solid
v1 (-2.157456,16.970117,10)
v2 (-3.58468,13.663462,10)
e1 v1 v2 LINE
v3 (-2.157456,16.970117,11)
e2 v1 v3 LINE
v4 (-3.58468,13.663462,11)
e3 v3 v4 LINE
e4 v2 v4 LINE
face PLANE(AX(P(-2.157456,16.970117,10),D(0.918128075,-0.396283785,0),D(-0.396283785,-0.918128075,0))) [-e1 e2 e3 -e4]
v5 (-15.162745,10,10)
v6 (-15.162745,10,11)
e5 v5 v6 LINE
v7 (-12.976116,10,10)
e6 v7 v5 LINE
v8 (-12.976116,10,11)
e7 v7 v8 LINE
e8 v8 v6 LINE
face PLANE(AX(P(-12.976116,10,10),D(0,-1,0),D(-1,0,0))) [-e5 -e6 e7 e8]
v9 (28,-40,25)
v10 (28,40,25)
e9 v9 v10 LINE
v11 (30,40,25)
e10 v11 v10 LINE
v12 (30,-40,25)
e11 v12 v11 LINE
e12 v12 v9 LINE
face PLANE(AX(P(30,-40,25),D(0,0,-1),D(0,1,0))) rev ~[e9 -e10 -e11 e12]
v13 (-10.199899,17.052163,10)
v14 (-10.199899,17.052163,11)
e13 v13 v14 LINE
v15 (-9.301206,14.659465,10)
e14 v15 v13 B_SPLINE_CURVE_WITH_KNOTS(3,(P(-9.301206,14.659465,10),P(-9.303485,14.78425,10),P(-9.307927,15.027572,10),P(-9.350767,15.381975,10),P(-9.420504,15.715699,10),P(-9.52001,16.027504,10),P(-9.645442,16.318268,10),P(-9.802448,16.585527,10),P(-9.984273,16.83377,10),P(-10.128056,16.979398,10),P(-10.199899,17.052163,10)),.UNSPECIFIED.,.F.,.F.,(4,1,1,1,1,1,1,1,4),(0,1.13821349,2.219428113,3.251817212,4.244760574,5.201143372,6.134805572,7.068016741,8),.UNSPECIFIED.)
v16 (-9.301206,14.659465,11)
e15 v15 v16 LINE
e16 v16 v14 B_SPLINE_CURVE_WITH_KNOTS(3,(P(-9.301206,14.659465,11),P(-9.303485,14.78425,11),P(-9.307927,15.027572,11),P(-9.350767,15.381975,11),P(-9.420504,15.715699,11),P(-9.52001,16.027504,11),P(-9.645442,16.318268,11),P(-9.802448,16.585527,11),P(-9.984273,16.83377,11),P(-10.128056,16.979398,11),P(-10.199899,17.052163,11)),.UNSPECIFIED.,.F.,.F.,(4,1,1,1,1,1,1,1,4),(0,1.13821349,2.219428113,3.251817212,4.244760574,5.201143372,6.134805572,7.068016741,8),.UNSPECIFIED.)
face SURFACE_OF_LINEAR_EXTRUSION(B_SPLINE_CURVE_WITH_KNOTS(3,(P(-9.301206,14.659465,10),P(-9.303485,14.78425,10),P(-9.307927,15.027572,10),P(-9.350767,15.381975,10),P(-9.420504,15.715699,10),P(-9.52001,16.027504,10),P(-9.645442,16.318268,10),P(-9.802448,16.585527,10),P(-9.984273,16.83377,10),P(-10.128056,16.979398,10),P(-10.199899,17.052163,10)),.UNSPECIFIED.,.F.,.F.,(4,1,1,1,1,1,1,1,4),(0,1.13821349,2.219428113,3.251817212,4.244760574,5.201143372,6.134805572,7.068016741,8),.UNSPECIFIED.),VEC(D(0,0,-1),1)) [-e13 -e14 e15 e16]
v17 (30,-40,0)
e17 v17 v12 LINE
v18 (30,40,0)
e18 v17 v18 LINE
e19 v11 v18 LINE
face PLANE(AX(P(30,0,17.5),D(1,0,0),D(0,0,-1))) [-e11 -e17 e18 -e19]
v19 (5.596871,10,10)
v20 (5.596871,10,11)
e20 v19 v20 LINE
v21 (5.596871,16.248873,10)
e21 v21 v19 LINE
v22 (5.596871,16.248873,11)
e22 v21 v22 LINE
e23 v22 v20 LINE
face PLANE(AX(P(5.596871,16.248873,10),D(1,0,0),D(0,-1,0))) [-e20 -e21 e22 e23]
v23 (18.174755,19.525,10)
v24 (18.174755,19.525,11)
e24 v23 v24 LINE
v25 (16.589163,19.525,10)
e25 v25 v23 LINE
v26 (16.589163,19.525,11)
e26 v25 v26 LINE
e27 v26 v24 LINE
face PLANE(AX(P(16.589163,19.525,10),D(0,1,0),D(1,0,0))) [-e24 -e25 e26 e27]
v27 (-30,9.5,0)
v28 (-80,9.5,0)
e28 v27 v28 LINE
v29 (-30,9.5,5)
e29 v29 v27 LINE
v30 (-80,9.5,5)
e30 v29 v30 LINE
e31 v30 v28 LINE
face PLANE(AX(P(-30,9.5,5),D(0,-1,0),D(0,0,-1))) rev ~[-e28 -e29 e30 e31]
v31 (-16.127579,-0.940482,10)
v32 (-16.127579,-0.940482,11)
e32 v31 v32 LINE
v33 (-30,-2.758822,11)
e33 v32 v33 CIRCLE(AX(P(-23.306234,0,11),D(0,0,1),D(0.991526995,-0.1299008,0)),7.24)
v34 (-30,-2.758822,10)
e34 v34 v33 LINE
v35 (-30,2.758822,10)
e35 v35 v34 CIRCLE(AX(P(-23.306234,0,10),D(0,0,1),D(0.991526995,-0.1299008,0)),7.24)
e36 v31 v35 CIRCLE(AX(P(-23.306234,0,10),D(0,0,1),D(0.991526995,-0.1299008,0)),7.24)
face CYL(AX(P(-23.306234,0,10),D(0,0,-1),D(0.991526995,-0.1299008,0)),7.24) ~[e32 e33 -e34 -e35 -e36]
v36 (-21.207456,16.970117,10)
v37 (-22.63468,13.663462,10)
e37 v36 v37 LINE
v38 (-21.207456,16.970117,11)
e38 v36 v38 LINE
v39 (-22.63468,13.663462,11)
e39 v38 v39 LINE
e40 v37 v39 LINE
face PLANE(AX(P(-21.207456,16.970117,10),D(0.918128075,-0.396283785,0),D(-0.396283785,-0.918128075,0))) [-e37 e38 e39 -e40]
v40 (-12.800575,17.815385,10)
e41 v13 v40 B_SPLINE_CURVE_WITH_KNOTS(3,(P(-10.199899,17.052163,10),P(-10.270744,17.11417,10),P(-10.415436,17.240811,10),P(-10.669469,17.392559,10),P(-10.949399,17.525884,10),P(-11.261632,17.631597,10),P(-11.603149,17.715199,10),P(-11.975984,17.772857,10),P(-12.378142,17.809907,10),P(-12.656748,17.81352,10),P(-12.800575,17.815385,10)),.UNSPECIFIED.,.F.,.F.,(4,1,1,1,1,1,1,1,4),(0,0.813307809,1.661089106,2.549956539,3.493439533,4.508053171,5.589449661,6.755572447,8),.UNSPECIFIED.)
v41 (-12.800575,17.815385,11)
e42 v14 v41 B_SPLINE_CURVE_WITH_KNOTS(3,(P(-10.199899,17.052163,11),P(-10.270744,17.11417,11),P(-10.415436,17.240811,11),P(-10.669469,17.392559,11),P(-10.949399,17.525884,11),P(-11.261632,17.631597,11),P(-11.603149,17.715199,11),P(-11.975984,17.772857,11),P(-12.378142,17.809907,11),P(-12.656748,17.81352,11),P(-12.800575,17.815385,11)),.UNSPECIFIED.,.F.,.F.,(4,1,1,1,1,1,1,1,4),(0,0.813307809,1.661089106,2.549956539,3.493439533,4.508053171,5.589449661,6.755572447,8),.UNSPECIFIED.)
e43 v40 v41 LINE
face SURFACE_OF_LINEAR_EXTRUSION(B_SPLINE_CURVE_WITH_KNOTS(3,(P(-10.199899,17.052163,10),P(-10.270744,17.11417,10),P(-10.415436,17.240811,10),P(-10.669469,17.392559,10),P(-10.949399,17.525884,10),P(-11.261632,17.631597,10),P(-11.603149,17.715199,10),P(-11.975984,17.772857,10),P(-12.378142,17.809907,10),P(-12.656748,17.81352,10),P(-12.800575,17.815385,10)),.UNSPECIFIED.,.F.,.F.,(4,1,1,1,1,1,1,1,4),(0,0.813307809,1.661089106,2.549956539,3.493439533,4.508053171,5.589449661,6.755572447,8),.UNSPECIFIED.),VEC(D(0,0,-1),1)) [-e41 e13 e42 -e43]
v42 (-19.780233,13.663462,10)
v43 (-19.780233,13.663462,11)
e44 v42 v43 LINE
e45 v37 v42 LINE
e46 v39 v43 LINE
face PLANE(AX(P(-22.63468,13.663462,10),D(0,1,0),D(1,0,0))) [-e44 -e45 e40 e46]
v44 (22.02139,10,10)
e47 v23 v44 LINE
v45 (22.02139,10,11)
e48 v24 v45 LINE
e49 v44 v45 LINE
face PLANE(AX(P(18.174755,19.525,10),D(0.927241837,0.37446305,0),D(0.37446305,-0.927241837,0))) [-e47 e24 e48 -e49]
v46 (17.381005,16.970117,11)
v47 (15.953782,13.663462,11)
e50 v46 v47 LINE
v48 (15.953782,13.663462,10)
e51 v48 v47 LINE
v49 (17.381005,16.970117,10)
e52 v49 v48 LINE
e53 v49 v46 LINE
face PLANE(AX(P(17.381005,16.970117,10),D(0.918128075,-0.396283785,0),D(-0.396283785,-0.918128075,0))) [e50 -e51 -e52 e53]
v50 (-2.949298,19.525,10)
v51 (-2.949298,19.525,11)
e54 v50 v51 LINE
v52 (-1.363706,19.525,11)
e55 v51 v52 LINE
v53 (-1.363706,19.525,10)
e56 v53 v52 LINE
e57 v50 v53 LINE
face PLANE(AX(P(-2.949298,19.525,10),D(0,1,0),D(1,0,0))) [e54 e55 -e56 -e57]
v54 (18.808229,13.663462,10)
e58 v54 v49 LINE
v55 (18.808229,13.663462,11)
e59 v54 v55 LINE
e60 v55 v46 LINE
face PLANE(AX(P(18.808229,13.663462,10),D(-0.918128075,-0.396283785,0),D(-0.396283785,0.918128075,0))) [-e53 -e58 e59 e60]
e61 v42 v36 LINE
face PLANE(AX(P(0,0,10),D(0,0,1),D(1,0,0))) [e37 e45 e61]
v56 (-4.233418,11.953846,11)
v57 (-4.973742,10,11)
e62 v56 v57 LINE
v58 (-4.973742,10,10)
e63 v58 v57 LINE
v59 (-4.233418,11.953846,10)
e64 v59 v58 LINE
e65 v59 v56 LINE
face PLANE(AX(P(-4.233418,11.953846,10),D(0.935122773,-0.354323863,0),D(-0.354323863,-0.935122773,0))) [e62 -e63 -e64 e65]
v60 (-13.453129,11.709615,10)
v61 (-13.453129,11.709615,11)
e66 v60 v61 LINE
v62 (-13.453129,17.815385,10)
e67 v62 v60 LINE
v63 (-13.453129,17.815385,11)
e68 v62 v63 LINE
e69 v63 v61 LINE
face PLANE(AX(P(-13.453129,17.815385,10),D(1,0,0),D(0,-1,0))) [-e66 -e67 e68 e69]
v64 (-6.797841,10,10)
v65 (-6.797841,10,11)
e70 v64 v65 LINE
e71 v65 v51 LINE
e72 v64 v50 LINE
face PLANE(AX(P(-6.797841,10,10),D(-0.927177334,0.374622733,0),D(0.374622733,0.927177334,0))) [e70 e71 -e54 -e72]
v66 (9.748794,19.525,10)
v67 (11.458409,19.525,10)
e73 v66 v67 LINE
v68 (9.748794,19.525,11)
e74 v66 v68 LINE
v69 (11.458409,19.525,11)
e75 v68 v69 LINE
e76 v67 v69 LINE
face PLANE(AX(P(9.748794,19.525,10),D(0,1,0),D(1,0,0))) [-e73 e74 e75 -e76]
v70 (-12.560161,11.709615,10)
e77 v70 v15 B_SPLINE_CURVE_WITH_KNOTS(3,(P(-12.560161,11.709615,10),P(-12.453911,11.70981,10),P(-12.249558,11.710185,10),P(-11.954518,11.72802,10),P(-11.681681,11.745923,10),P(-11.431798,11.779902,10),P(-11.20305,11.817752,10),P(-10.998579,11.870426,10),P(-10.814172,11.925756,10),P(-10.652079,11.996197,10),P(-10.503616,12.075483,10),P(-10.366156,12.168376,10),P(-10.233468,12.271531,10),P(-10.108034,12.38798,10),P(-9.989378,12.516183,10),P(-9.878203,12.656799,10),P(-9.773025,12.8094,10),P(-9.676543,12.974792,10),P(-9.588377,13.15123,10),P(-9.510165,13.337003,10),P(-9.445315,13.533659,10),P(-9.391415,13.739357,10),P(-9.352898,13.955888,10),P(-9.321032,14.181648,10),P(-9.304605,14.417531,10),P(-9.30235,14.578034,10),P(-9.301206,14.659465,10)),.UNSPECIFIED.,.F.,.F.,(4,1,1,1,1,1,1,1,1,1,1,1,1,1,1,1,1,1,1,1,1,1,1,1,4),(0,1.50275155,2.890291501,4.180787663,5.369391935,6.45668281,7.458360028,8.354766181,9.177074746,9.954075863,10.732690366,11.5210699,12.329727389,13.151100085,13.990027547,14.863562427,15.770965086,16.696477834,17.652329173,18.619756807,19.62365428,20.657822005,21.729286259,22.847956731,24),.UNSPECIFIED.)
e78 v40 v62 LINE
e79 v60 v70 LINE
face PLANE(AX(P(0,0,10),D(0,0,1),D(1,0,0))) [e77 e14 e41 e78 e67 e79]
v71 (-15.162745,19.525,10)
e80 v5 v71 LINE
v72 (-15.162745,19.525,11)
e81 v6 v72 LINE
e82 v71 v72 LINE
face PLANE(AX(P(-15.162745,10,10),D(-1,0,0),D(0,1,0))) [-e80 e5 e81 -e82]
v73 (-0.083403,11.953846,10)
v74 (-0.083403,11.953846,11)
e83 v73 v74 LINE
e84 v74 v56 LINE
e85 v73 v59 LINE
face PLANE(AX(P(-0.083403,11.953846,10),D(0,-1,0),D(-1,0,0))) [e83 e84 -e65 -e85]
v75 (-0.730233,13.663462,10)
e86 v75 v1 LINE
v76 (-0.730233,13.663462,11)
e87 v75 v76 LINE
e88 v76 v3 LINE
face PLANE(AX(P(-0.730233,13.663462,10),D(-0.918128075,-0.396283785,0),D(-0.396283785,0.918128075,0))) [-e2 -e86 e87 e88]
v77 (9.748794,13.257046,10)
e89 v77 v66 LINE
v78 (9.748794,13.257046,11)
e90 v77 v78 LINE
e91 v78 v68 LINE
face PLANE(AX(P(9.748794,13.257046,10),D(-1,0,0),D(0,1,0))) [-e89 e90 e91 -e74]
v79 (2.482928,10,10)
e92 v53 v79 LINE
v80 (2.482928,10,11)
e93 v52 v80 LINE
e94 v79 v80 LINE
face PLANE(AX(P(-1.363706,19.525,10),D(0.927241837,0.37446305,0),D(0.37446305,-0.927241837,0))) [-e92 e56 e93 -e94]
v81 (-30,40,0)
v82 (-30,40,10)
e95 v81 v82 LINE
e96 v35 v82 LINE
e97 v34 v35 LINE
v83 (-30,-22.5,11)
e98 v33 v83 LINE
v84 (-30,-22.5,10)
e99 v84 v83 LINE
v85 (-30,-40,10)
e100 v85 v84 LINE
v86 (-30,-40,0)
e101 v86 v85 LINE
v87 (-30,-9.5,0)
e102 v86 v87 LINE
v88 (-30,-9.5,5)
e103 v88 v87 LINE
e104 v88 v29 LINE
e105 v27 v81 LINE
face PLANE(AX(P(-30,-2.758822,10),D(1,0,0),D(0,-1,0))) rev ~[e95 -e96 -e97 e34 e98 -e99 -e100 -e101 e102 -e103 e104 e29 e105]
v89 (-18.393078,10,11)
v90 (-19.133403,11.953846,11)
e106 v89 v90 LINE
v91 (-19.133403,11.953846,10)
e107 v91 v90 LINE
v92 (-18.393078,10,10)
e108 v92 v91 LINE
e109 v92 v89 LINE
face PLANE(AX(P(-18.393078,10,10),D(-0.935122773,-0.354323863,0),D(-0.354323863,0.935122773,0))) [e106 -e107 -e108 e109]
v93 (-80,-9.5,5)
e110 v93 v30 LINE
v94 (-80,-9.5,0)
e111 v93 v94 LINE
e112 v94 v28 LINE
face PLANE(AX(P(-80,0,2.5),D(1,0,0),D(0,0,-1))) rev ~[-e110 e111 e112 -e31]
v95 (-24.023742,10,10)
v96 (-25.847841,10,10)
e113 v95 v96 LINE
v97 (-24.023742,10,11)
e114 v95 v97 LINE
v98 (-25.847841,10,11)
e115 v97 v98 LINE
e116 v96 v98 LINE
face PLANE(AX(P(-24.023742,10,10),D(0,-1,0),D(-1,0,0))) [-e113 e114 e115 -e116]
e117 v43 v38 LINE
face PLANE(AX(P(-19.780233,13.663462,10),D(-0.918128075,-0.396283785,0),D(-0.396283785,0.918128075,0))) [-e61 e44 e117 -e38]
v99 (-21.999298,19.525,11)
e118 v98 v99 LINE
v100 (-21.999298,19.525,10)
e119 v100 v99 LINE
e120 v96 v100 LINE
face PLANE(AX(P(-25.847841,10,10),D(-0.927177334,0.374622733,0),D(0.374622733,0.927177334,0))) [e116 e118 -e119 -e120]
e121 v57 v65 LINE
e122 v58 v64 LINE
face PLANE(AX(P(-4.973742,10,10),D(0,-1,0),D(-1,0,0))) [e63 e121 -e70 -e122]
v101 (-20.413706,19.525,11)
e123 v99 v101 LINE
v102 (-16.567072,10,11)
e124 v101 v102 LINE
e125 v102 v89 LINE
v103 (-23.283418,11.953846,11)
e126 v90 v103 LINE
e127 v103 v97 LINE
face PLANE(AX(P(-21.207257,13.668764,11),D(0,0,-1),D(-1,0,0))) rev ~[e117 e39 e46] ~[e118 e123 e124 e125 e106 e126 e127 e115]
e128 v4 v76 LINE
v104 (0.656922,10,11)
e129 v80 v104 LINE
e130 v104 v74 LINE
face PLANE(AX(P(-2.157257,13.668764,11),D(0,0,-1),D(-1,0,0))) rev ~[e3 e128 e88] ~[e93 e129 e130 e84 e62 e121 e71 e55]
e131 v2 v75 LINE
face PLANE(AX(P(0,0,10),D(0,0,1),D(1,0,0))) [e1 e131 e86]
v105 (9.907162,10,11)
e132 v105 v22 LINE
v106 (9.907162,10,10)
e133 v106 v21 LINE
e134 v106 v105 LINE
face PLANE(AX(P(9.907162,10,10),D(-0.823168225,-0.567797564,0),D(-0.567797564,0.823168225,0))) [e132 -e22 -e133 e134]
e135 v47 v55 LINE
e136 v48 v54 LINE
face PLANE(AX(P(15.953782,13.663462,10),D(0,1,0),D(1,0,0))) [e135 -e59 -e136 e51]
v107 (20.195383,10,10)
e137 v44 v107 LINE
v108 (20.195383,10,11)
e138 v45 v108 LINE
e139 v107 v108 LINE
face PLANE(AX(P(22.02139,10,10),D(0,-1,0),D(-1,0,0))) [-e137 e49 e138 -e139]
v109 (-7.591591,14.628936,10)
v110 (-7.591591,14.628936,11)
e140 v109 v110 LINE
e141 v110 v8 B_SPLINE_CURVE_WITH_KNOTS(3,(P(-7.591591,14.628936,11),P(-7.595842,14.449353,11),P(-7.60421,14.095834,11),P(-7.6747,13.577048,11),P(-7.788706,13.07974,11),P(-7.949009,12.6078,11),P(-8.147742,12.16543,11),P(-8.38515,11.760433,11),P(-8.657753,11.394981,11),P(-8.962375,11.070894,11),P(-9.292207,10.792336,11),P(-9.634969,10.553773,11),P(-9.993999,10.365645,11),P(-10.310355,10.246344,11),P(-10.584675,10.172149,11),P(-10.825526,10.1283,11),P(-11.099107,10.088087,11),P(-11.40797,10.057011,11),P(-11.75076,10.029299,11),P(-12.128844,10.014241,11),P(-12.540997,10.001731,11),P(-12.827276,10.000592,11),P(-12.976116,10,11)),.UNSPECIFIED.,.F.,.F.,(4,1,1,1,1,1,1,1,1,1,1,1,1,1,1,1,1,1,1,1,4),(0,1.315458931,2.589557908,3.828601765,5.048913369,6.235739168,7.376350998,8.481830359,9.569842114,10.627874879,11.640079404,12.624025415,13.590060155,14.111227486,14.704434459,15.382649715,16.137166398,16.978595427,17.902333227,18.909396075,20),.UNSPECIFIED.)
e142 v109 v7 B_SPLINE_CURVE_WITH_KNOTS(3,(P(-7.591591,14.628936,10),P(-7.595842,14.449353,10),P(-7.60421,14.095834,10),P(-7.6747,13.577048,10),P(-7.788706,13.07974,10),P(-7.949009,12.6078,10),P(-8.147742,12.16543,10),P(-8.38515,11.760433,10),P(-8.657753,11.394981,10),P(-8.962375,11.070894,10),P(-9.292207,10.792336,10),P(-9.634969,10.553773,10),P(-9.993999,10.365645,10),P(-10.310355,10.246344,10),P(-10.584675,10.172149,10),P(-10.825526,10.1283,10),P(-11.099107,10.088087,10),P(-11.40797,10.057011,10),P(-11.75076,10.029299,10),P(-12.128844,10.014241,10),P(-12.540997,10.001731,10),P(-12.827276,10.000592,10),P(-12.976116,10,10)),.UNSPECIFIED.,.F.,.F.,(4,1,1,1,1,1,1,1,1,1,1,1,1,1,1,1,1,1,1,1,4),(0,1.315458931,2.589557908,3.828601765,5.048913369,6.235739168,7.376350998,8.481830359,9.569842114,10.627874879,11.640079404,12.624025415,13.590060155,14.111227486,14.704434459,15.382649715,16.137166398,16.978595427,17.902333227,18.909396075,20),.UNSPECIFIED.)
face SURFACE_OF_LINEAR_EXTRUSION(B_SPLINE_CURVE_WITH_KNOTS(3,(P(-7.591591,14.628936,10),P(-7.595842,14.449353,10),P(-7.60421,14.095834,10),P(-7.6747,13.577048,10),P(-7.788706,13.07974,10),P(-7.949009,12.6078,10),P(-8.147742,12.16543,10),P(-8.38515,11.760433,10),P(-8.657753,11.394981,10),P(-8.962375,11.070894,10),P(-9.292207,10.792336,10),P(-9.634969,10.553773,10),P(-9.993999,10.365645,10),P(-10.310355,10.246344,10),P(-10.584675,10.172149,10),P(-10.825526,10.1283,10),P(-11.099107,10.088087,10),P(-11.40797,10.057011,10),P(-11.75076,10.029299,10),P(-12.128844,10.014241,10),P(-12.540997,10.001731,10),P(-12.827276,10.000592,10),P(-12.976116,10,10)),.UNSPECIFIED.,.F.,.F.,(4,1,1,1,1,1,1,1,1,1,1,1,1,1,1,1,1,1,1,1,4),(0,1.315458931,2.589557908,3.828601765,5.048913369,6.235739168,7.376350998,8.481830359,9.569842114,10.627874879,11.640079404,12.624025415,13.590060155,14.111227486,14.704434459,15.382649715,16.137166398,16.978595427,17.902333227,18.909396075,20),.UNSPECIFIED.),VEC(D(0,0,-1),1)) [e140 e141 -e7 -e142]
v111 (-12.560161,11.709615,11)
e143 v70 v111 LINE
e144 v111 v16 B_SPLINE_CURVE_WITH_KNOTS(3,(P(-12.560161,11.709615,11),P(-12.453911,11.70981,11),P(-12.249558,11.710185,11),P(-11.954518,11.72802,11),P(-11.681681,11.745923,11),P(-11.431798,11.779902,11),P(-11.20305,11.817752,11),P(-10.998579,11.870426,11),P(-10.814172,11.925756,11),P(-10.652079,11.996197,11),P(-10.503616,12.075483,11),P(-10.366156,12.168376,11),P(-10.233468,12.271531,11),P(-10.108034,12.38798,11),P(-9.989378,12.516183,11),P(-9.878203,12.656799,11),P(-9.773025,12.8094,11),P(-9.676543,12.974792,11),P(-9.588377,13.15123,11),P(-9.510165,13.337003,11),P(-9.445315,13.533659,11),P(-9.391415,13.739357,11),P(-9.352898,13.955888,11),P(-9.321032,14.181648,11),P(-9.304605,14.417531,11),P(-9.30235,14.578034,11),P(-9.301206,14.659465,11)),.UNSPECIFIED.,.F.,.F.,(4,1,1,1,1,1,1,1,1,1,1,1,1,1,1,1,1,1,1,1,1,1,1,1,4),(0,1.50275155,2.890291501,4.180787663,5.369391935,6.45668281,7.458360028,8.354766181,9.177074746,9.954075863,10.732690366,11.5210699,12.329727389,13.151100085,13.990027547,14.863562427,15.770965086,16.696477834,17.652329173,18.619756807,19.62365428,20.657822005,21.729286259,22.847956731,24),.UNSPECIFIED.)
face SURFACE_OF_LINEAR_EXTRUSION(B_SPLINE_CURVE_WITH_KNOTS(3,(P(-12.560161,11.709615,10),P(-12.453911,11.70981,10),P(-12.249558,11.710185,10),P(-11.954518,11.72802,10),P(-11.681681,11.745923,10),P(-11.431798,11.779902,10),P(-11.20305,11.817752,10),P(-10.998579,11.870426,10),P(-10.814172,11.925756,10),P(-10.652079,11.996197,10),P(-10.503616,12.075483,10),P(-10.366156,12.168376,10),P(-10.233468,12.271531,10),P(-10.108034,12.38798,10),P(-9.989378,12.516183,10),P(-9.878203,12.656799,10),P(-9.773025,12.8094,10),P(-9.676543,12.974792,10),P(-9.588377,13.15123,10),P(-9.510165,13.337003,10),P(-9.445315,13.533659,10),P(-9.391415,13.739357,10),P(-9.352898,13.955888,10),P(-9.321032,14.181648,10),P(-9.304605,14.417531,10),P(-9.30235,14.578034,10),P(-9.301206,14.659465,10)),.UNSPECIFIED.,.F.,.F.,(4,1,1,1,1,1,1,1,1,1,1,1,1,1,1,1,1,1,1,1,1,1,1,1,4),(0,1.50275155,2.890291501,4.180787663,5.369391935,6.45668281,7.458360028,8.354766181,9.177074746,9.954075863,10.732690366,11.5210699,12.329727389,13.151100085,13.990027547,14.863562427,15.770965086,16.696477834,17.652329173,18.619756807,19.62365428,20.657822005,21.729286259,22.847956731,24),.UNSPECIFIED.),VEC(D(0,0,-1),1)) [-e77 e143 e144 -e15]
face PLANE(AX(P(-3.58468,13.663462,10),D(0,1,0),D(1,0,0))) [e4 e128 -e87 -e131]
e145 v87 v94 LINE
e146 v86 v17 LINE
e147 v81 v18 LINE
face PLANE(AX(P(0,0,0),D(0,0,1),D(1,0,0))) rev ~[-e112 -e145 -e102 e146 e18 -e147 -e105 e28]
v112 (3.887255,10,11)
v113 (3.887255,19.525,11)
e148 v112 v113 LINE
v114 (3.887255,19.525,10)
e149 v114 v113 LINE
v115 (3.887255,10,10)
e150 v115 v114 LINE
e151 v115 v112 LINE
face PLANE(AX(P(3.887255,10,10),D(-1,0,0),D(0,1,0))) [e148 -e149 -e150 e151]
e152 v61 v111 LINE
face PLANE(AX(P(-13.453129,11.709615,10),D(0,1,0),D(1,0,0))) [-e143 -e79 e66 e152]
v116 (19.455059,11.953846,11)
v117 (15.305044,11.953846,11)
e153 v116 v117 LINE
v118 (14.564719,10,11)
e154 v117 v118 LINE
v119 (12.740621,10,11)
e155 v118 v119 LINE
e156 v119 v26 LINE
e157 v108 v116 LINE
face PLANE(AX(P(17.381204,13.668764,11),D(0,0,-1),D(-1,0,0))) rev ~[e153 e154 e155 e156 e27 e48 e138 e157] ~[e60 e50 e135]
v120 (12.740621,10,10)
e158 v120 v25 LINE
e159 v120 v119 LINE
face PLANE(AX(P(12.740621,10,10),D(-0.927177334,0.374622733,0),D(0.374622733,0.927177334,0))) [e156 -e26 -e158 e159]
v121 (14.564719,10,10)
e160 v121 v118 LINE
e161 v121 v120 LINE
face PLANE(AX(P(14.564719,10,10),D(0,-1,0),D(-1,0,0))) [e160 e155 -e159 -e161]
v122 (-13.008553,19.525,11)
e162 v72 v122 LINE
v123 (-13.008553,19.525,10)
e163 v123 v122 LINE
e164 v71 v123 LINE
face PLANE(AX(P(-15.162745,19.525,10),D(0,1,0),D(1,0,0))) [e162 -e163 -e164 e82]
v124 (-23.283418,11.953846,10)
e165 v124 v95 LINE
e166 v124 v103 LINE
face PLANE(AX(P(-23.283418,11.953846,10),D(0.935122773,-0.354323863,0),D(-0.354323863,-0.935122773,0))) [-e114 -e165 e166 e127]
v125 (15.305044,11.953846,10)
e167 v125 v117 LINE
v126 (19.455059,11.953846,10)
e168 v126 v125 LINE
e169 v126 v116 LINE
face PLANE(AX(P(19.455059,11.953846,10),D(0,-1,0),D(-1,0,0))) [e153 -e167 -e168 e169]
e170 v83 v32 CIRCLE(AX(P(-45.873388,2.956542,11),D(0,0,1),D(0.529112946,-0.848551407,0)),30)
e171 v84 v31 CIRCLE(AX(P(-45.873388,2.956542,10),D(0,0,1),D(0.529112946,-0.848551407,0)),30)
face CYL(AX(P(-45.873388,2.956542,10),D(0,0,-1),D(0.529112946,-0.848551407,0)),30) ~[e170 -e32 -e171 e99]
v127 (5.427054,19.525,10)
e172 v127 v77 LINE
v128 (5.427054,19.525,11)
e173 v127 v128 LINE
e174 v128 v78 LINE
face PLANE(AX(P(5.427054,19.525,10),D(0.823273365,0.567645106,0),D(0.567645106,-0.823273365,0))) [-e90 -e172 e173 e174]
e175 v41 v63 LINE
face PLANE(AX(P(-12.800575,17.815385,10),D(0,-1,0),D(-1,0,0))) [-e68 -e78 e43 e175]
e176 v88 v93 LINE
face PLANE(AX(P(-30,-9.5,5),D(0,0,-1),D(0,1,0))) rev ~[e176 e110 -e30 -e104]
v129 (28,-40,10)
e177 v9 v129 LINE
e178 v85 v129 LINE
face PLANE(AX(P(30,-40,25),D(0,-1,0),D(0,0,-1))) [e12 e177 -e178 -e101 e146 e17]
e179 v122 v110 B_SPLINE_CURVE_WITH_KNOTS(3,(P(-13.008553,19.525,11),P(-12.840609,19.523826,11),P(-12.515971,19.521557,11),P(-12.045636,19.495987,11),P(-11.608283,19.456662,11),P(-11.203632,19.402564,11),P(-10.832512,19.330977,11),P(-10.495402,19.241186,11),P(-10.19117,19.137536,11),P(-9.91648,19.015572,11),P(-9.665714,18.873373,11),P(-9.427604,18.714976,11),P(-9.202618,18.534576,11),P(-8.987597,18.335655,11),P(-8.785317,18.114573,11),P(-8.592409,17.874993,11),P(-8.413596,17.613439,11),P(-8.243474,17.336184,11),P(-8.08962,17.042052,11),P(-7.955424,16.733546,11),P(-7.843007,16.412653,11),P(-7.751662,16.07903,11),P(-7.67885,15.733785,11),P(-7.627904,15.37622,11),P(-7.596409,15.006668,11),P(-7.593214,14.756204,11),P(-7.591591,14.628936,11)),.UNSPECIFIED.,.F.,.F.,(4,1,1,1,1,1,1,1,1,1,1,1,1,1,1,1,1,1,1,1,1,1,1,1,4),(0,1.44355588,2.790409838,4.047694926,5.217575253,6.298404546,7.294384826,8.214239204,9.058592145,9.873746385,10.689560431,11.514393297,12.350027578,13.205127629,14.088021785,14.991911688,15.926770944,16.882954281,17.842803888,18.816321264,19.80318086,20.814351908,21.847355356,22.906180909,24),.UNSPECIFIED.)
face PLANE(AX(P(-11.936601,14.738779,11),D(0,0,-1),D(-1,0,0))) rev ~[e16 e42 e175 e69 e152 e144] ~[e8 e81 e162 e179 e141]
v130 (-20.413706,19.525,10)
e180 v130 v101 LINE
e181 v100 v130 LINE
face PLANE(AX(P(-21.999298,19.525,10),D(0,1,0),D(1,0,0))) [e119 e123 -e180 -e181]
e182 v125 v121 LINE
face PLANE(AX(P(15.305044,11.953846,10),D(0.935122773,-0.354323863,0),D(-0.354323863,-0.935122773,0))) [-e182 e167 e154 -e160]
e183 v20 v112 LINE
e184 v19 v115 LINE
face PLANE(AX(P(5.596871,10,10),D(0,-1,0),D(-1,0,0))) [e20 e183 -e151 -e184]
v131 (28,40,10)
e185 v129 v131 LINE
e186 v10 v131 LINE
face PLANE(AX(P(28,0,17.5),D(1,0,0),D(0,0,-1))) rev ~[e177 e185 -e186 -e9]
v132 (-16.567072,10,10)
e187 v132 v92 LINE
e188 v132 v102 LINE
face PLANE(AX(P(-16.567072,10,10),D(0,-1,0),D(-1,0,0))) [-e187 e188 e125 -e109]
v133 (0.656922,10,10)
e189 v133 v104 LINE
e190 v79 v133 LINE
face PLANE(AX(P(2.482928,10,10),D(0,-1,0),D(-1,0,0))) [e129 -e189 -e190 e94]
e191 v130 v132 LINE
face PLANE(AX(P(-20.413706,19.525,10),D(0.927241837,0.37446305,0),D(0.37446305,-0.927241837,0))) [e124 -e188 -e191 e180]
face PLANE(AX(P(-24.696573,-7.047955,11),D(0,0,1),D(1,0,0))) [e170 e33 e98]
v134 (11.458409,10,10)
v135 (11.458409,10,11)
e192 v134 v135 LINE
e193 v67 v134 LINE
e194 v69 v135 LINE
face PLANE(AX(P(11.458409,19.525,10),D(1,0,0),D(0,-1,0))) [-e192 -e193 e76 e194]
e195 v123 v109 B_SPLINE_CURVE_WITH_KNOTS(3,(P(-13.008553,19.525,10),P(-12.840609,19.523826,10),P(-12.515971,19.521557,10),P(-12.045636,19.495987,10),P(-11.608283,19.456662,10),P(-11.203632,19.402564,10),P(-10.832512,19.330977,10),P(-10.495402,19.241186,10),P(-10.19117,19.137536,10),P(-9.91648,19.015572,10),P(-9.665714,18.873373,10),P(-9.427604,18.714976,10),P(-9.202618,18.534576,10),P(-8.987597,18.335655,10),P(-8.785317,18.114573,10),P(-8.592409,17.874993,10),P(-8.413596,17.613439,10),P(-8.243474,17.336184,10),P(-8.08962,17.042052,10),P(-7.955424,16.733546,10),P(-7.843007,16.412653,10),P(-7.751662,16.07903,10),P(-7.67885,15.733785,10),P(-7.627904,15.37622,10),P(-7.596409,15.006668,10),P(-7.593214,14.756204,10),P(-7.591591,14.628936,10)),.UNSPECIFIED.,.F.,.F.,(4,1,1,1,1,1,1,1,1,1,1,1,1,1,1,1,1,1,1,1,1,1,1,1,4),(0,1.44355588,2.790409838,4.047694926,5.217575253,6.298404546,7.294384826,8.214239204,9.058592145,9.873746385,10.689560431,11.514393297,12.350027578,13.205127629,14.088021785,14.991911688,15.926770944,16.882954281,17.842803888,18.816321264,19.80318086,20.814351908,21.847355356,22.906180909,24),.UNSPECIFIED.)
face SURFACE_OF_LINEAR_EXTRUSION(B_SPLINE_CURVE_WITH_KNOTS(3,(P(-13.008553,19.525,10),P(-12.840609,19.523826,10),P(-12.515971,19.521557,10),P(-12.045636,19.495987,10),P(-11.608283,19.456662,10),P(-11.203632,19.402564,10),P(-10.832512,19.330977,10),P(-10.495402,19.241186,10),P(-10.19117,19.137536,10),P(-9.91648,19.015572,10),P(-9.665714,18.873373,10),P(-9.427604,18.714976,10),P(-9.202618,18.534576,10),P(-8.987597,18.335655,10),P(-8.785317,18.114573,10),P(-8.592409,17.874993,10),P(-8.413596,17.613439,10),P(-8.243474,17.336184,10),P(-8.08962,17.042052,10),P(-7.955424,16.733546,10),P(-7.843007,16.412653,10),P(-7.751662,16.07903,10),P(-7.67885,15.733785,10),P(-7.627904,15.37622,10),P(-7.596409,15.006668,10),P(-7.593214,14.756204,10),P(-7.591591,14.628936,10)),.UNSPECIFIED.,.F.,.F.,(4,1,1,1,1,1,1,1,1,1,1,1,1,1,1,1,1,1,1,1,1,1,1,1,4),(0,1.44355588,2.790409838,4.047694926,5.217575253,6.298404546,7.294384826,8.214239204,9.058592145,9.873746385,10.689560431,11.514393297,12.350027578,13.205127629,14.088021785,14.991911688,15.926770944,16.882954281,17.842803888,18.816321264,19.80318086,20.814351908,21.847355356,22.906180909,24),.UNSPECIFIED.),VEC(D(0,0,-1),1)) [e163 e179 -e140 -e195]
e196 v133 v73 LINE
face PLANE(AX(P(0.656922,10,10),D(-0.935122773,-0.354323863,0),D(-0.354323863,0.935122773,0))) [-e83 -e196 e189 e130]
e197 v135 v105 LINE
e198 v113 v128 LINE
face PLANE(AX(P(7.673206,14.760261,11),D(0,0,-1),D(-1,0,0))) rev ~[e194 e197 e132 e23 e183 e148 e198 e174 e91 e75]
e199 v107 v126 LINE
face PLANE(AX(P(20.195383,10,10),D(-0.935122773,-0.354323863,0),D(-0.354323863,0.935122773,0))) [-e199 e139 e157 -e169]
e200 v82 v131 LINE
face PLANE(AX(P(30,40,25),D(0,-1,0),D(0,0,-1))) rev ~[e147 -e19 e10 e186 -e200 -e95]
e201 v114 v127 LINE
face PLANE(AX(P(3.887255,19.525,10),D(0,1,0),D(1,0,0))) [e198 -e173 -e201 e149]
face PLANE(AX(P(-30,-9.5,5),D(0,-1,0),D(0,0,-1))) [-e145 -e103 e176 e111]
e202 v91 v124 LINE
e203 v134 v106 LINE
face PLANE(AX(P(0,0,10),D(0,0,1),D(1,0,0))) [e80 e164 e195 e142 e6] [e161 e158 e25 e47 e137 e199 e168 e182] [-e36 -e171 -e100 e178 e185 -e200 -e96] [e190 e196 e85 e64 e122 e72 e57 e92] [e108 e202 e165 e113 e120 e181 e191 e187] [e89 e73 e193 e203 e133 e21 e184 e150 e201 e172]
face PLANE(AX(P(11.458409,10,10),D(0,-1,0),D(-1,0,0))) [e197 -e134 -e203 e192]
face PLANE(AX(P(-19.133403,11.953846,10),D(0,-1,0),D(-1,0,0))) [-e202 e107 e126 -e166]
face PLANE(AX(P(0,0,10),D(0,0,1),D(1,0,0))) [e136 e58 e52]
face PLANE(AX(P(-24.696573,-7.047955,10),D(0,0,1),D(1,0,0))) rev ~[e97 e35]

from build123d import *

# Parameters (mm, degrees)
IZIM1_W                     = 60
IZIM1_H                     = 80
Y_KSEKLIK_EKSTR_ZYON1_DEPTH = 10
IZIM2_W                     = 5
IZIM2_H                     = 19
Y_KSEKLIK_EKSTR_ZYON2_DEPTH = 50
IZIM3_W                     = 15
IZIM3_H                     = 80
Y_KSEKLIK_EKSTR_ZYON3_DEPTH = 2
Y_KSEKLIK_EKSTR_ZYON4_DEPTH = 1


with BuildPart() as part:
    # Çizim1 → Yükseklik-Ekstrüzyon1 (new body)
    with BuildSketch(Plane.XY):
        Rectangle(IZIM1_W, IZIM1_H)
    extrude(amount=Y_KSEKLIK_EKSTR_ZYON1_DEPTH)

    # Çizim2 → Yükseklik-Ekstrüzyon2 (add)
    with BuildSketch(Plane(origin=(-30, 0, 0), x_dir=(0, 0, -1), z_dir=(1, 0, 0))):
        with Locations((-2.5, 0)):
            Rectangle(IZIM2_W, IZIM2_H)
    extrude(amount=-Y_KSEKLIK_EKSTR_ZYON2_DEPTH)

    # Çizim3 → Yükseklik-Ekstrüzyon3 (add)
    with BuildSketch(Plane(origin=(30, 0, 0), x_dir=(0, 0, -1), z_dir=(1, 0, 0))):
        with Locations((-17.5, 0)):
            Rectangle(IZIM3_W, IZIM3_H)
    extrude(amount=-Y_KSEKLIK_EKSTR_ZYON3_DEPTH)

    # Çizim4 → Yükseklik-Ekstrüzyon4 (add)
    # profile 1 of 6: a face of its own
    with BuildSketch(Plane.XY.offset(10)):
        with BuildLine():
            Line((-30, -2.758821569), (-30, -22.5))
            ThreePointArc((-30, -22.5), (-20.644812954, -13.276725535), (-16.127578533, -0.940481791))
            ThreePointArc((-16.127578533, -0.940481791), (-24.247174638, 7.178595313), (-30, -2.758821569))
        make_face()
    # profile 2 of 6: a face of its own
    with BuildSketch(Plane.XY.offset(10)):
        Polygon((-21.999298336, 19.525), (-20.413706389, 19.525), (-16.567071773, 10), (-18.393078384, 10), (-19.133402903, 11.953846154), (-23.283417927, 11.953846154), (-24.023742447, 10), (-25.847841004, 10), align=None)
        Polygon((-21.207456389, 16.970117188), (-22.634679947, 13.663461538), (-19.780232831, 13.663461538), align=None, mode=Mode.SUBTRACT)
    # profile 3 of 6: a face of its own
    with BuildSketch(Plane.XY.offset(10)):
        with BuildLine():
            Line((-15.16274485, 19.525), (-13.008553144, 19.525))
            add(Edge.make_bspline(
                [(-13.008553144, 19.525), (-12.840609123, 19.523826014), (-12.515971431, 19.521556685), (-12.04563564, 19.49598681), (-11.608283206, 19.456662156), (-11.203632202, 19.402563969), (-10.832512229, 19.330977253), (-10.495401839, 19.241185748), (-10.191169607, 19.137536394), (-9.916479691, 19.015571895), (-9.665714218, 18.873373403), (-9.427604398, 18.714975699), (-9.202617755, 18.534576213), (-8.987596956, 18.335655209), (-8.78531689, 18.11457349), (-8.592408871, 17.874992969), (-8.41359616, 17.613439399), (-8.243473638, 17.336184009), (-8.089620454, 17.042051817), (-7.955423958, 16.733546416), (-7.843006739, 16.412653152), (-7.751661928, 16.079030037), (-7.678849571, 15.733784598), (-7.627904232, 15.376220162), (-7.596409316, 15.006667774), (-7.59321442, 14.756203976), (-7.591591004, 14.628936298)],
                knots=[0, 0, 0, 0, 1.44355588, 2.790409838, 4.047694926, 5.217575253, 6.298404546, 7.294384826, 8.214239204, 9.058592145, 9.873746385, 10.689560431, 11.514393297, 12.350027578, 13.205127629, 14.088021785, 14.991911688, 15.926770944, 16.882954281, 17.842803888, 18.816321264, 19.80318086, 20.814351908, 21.847355356, 22.906180909, 24, 24, 24, 24], degree=3))
            add(Edge.make_bspline(
                [(-7.591591004, 14.628936298), (-7.595841984, 14.449353321), (-7.604210287, 14.095833719), (-7.674700195, 13.577047775), (-7.788706245, 13.079739705), (-7.949009105, 12.607799646), (-8.14774174, 12.165430293), (-8.385150126, 11.760432644), (-8.657753303, 11.394980521), (-8.962375429, 11.070893577), (-9.292207001, 10.792336456), (-9.634968515, 10.553772666), (-9.993999093, 10.365645212), (-10.310355209, 10.246344273), (-10.584675428, 10.172149411), (-10.825525613, 10.128299533), (-11.099106848, 10.08808655), (-11.407970042, 10.057010822), (-11.750760277, 10.029298909), (-12.12884392, 10.014241334), (-12.540996845, 10.001730724), (-12.827276021, 10.000592025), (-12.976116245, 10)],
                knots=[0, 0, 0, 0, 1.315458931, 2.589557908, 3.828601765, 5.048913369, 6.235739168, 7.376350998, 8.481830359, 9.569842114, 10.627874879, 11.640079404, 12.624025415, 13.590060155, 14.111227486, 14.704434459, 15.382649715, 16.137166398, 16.978595427, 17.902333227, 18.909396075, 20, 20, 20, 20], degree=3))
            Line((-12.976116245, 10), (-15.16274485, 10))
            Line((-15.16274485, 10), (-15.16274485, 19.525))
        make_face()
        with BuildLine():
            Line((-13.453129466, 17.815384615), (-13.453129466, 11.709615385))
            Line((-13.453129466, 11.709615385), (-12.560160716, 11.709615385))
            add(Edge.make_bspline(
                [(-12.560160716, 11.709615385), (-12.453911148, 11.709810078), (-12.24955786, 11.710184538), (-11.954517968, 11.728020382), (-11.681680879, 11.745922652), (-11.431797647, 11.779901759), (-11.203049701, 11.817752093), (-10.998579438, 11.870426015), (-10.814171838, 11.925755509), (-10.652079405, 11.996196811), (-10.503615942, 12.075483186), (-10.366155734, 12.168376365), (-10.233468148, 12.271530737), (-10.108033884, 12.387980219), (-9.989378205, 12.516182801), (-9.878203152, 12.656799054), (-9.773024833, 12.809399953), (-9.676542976, 12.974792337), (-9.588377338, 13.151229626), (-9.510164538, 13.337002767), (-9.445314586, 13.53365885), (-9.391415276, 13.739356938), (-9.352898107, 13.955887866), (-9.321032497, 14.181647819), (-9.304604846, 14.41753124), (-9.302350253, 14.578034203), (-9.301206389, 14.659465144)],
                knots=[0, 0, 0, 0, 1.50275155, 2.890291501, 4.180787663, 5.369391935, 6.45668281, 7.458360028, 8.354766181, 9.177074746, 9.954075863, 10.732690366, 11.5210699, 12.329727389, 13.151100085, 13.990027547, 14.863562427, 15.770965086, 16.696477834, 17.652329173, 18.619756807, 19.62365428, 20.657822005, 21.729286259, 22.847956731, 24, 24, 24, 24], degree=3))
            add(Edge.make_bspline(
                [(-9.301206389, 14.659465144), (-9.303484578, 14.784250364), (-9.307926871, 15.027571875), (-9.350767379, 15.381974966), (-9.420503555, 15.715698568), (-9.520010358, 16.027504143), (-9.645441767, 16.318268029), (-9.802448416, 16.58552684), (-9.984273341, 16.833770156), (-10.12805553, 16.97939765), (-10.199899298, 17.052163462)],
                knots=[0, 0, 0, 0, 1.13821349, 2.219428113, 3.251817212, 4.244760574, 5.201143372, 6.134805572, 7.068016741, 8, 8, 8, 8], degree=3))
            add(Edge.make_bspline(
                [(-10.199899298, 17.052163462), (-10.270744054, 17.11416977), (-10.415436449, 17.240810634), (-10.669468745, 17.392558776), (-10.949399178, 17.525884392), (-11.261631718, 17.631596738), (-11.603148776, 17.715198567), (-11.975984434, 17.772856704), (-12.378142077, 17.809907212), (-12.656747521, 17.813519698), (-12.800575379, 17.815384615)],
                knots=[0, 0, 0, 0, 0.813307809, 1.661089106, 2.549956539, 3.493439533, 4.508053171, 5.589449661, 6.755572447, 8, 8, 8, 8], degree=3))
            Line((-12.800575379, 17.815384615), (-13.453129466, 17.815384615))
        make_face(mode=Mode.SUBTRACT)
    # profile 4 of 6: a face of its own
    with BuildSketch(Plane.XY.offset(10)):
        Polygon((-2.949298336, 19.525), (-1.363706389, 19.525), (2.482928227, 10), (0.656921616, 10), (-0.083402903, 11.953846154), (-4.233417927, 11.953846154), (-4.973742447, 10), (-6.797841004, 10), align=None)
        Polygon((-2.157456389, 16.970117188), (-3.584679947, 13.663461538), (-0.730232831, 13.663461538), align=None, mode=Mode.SUBTRACT)
    # profile 5 of 6: a face of its own
    with BuildSketch(Plane.XY.offset(10)):
        Polygon((3.88725515, 19.525), (5.427053827, 19.525), (9.748793611, 13.257046274), (9.748793611, 19.525), (11.458408996, 19.525), (11.458408996, 10), (9.907162001, 10), (5.596870534, 16.248873197), (5.596870534, 10), (3.88725515, 10), align=None)
    # profile 6 of 6: a face of its own
    with BuildSketch(Plane.XY.offset(10)):
        Polygon((16.589163202, 19.525), (18.17475515, 19.525), (22.021389765, 10), (20.195383154, 10), (19.455058635, 11.953846154), (15.305043611, 11.953846154), (14.564719092, 10), (12.740620534, 10), align=None)
        Polygon((17.38100515, 16.970117188), (15.953781592, 13.663461538), (18.808228707, 13.663461538), align=None, mode=Mode.SUBTRACT)
    extrude(amount=Y_KSEKLIK_EKSTR_ZYON4_DEPTH)


solid = part.part
